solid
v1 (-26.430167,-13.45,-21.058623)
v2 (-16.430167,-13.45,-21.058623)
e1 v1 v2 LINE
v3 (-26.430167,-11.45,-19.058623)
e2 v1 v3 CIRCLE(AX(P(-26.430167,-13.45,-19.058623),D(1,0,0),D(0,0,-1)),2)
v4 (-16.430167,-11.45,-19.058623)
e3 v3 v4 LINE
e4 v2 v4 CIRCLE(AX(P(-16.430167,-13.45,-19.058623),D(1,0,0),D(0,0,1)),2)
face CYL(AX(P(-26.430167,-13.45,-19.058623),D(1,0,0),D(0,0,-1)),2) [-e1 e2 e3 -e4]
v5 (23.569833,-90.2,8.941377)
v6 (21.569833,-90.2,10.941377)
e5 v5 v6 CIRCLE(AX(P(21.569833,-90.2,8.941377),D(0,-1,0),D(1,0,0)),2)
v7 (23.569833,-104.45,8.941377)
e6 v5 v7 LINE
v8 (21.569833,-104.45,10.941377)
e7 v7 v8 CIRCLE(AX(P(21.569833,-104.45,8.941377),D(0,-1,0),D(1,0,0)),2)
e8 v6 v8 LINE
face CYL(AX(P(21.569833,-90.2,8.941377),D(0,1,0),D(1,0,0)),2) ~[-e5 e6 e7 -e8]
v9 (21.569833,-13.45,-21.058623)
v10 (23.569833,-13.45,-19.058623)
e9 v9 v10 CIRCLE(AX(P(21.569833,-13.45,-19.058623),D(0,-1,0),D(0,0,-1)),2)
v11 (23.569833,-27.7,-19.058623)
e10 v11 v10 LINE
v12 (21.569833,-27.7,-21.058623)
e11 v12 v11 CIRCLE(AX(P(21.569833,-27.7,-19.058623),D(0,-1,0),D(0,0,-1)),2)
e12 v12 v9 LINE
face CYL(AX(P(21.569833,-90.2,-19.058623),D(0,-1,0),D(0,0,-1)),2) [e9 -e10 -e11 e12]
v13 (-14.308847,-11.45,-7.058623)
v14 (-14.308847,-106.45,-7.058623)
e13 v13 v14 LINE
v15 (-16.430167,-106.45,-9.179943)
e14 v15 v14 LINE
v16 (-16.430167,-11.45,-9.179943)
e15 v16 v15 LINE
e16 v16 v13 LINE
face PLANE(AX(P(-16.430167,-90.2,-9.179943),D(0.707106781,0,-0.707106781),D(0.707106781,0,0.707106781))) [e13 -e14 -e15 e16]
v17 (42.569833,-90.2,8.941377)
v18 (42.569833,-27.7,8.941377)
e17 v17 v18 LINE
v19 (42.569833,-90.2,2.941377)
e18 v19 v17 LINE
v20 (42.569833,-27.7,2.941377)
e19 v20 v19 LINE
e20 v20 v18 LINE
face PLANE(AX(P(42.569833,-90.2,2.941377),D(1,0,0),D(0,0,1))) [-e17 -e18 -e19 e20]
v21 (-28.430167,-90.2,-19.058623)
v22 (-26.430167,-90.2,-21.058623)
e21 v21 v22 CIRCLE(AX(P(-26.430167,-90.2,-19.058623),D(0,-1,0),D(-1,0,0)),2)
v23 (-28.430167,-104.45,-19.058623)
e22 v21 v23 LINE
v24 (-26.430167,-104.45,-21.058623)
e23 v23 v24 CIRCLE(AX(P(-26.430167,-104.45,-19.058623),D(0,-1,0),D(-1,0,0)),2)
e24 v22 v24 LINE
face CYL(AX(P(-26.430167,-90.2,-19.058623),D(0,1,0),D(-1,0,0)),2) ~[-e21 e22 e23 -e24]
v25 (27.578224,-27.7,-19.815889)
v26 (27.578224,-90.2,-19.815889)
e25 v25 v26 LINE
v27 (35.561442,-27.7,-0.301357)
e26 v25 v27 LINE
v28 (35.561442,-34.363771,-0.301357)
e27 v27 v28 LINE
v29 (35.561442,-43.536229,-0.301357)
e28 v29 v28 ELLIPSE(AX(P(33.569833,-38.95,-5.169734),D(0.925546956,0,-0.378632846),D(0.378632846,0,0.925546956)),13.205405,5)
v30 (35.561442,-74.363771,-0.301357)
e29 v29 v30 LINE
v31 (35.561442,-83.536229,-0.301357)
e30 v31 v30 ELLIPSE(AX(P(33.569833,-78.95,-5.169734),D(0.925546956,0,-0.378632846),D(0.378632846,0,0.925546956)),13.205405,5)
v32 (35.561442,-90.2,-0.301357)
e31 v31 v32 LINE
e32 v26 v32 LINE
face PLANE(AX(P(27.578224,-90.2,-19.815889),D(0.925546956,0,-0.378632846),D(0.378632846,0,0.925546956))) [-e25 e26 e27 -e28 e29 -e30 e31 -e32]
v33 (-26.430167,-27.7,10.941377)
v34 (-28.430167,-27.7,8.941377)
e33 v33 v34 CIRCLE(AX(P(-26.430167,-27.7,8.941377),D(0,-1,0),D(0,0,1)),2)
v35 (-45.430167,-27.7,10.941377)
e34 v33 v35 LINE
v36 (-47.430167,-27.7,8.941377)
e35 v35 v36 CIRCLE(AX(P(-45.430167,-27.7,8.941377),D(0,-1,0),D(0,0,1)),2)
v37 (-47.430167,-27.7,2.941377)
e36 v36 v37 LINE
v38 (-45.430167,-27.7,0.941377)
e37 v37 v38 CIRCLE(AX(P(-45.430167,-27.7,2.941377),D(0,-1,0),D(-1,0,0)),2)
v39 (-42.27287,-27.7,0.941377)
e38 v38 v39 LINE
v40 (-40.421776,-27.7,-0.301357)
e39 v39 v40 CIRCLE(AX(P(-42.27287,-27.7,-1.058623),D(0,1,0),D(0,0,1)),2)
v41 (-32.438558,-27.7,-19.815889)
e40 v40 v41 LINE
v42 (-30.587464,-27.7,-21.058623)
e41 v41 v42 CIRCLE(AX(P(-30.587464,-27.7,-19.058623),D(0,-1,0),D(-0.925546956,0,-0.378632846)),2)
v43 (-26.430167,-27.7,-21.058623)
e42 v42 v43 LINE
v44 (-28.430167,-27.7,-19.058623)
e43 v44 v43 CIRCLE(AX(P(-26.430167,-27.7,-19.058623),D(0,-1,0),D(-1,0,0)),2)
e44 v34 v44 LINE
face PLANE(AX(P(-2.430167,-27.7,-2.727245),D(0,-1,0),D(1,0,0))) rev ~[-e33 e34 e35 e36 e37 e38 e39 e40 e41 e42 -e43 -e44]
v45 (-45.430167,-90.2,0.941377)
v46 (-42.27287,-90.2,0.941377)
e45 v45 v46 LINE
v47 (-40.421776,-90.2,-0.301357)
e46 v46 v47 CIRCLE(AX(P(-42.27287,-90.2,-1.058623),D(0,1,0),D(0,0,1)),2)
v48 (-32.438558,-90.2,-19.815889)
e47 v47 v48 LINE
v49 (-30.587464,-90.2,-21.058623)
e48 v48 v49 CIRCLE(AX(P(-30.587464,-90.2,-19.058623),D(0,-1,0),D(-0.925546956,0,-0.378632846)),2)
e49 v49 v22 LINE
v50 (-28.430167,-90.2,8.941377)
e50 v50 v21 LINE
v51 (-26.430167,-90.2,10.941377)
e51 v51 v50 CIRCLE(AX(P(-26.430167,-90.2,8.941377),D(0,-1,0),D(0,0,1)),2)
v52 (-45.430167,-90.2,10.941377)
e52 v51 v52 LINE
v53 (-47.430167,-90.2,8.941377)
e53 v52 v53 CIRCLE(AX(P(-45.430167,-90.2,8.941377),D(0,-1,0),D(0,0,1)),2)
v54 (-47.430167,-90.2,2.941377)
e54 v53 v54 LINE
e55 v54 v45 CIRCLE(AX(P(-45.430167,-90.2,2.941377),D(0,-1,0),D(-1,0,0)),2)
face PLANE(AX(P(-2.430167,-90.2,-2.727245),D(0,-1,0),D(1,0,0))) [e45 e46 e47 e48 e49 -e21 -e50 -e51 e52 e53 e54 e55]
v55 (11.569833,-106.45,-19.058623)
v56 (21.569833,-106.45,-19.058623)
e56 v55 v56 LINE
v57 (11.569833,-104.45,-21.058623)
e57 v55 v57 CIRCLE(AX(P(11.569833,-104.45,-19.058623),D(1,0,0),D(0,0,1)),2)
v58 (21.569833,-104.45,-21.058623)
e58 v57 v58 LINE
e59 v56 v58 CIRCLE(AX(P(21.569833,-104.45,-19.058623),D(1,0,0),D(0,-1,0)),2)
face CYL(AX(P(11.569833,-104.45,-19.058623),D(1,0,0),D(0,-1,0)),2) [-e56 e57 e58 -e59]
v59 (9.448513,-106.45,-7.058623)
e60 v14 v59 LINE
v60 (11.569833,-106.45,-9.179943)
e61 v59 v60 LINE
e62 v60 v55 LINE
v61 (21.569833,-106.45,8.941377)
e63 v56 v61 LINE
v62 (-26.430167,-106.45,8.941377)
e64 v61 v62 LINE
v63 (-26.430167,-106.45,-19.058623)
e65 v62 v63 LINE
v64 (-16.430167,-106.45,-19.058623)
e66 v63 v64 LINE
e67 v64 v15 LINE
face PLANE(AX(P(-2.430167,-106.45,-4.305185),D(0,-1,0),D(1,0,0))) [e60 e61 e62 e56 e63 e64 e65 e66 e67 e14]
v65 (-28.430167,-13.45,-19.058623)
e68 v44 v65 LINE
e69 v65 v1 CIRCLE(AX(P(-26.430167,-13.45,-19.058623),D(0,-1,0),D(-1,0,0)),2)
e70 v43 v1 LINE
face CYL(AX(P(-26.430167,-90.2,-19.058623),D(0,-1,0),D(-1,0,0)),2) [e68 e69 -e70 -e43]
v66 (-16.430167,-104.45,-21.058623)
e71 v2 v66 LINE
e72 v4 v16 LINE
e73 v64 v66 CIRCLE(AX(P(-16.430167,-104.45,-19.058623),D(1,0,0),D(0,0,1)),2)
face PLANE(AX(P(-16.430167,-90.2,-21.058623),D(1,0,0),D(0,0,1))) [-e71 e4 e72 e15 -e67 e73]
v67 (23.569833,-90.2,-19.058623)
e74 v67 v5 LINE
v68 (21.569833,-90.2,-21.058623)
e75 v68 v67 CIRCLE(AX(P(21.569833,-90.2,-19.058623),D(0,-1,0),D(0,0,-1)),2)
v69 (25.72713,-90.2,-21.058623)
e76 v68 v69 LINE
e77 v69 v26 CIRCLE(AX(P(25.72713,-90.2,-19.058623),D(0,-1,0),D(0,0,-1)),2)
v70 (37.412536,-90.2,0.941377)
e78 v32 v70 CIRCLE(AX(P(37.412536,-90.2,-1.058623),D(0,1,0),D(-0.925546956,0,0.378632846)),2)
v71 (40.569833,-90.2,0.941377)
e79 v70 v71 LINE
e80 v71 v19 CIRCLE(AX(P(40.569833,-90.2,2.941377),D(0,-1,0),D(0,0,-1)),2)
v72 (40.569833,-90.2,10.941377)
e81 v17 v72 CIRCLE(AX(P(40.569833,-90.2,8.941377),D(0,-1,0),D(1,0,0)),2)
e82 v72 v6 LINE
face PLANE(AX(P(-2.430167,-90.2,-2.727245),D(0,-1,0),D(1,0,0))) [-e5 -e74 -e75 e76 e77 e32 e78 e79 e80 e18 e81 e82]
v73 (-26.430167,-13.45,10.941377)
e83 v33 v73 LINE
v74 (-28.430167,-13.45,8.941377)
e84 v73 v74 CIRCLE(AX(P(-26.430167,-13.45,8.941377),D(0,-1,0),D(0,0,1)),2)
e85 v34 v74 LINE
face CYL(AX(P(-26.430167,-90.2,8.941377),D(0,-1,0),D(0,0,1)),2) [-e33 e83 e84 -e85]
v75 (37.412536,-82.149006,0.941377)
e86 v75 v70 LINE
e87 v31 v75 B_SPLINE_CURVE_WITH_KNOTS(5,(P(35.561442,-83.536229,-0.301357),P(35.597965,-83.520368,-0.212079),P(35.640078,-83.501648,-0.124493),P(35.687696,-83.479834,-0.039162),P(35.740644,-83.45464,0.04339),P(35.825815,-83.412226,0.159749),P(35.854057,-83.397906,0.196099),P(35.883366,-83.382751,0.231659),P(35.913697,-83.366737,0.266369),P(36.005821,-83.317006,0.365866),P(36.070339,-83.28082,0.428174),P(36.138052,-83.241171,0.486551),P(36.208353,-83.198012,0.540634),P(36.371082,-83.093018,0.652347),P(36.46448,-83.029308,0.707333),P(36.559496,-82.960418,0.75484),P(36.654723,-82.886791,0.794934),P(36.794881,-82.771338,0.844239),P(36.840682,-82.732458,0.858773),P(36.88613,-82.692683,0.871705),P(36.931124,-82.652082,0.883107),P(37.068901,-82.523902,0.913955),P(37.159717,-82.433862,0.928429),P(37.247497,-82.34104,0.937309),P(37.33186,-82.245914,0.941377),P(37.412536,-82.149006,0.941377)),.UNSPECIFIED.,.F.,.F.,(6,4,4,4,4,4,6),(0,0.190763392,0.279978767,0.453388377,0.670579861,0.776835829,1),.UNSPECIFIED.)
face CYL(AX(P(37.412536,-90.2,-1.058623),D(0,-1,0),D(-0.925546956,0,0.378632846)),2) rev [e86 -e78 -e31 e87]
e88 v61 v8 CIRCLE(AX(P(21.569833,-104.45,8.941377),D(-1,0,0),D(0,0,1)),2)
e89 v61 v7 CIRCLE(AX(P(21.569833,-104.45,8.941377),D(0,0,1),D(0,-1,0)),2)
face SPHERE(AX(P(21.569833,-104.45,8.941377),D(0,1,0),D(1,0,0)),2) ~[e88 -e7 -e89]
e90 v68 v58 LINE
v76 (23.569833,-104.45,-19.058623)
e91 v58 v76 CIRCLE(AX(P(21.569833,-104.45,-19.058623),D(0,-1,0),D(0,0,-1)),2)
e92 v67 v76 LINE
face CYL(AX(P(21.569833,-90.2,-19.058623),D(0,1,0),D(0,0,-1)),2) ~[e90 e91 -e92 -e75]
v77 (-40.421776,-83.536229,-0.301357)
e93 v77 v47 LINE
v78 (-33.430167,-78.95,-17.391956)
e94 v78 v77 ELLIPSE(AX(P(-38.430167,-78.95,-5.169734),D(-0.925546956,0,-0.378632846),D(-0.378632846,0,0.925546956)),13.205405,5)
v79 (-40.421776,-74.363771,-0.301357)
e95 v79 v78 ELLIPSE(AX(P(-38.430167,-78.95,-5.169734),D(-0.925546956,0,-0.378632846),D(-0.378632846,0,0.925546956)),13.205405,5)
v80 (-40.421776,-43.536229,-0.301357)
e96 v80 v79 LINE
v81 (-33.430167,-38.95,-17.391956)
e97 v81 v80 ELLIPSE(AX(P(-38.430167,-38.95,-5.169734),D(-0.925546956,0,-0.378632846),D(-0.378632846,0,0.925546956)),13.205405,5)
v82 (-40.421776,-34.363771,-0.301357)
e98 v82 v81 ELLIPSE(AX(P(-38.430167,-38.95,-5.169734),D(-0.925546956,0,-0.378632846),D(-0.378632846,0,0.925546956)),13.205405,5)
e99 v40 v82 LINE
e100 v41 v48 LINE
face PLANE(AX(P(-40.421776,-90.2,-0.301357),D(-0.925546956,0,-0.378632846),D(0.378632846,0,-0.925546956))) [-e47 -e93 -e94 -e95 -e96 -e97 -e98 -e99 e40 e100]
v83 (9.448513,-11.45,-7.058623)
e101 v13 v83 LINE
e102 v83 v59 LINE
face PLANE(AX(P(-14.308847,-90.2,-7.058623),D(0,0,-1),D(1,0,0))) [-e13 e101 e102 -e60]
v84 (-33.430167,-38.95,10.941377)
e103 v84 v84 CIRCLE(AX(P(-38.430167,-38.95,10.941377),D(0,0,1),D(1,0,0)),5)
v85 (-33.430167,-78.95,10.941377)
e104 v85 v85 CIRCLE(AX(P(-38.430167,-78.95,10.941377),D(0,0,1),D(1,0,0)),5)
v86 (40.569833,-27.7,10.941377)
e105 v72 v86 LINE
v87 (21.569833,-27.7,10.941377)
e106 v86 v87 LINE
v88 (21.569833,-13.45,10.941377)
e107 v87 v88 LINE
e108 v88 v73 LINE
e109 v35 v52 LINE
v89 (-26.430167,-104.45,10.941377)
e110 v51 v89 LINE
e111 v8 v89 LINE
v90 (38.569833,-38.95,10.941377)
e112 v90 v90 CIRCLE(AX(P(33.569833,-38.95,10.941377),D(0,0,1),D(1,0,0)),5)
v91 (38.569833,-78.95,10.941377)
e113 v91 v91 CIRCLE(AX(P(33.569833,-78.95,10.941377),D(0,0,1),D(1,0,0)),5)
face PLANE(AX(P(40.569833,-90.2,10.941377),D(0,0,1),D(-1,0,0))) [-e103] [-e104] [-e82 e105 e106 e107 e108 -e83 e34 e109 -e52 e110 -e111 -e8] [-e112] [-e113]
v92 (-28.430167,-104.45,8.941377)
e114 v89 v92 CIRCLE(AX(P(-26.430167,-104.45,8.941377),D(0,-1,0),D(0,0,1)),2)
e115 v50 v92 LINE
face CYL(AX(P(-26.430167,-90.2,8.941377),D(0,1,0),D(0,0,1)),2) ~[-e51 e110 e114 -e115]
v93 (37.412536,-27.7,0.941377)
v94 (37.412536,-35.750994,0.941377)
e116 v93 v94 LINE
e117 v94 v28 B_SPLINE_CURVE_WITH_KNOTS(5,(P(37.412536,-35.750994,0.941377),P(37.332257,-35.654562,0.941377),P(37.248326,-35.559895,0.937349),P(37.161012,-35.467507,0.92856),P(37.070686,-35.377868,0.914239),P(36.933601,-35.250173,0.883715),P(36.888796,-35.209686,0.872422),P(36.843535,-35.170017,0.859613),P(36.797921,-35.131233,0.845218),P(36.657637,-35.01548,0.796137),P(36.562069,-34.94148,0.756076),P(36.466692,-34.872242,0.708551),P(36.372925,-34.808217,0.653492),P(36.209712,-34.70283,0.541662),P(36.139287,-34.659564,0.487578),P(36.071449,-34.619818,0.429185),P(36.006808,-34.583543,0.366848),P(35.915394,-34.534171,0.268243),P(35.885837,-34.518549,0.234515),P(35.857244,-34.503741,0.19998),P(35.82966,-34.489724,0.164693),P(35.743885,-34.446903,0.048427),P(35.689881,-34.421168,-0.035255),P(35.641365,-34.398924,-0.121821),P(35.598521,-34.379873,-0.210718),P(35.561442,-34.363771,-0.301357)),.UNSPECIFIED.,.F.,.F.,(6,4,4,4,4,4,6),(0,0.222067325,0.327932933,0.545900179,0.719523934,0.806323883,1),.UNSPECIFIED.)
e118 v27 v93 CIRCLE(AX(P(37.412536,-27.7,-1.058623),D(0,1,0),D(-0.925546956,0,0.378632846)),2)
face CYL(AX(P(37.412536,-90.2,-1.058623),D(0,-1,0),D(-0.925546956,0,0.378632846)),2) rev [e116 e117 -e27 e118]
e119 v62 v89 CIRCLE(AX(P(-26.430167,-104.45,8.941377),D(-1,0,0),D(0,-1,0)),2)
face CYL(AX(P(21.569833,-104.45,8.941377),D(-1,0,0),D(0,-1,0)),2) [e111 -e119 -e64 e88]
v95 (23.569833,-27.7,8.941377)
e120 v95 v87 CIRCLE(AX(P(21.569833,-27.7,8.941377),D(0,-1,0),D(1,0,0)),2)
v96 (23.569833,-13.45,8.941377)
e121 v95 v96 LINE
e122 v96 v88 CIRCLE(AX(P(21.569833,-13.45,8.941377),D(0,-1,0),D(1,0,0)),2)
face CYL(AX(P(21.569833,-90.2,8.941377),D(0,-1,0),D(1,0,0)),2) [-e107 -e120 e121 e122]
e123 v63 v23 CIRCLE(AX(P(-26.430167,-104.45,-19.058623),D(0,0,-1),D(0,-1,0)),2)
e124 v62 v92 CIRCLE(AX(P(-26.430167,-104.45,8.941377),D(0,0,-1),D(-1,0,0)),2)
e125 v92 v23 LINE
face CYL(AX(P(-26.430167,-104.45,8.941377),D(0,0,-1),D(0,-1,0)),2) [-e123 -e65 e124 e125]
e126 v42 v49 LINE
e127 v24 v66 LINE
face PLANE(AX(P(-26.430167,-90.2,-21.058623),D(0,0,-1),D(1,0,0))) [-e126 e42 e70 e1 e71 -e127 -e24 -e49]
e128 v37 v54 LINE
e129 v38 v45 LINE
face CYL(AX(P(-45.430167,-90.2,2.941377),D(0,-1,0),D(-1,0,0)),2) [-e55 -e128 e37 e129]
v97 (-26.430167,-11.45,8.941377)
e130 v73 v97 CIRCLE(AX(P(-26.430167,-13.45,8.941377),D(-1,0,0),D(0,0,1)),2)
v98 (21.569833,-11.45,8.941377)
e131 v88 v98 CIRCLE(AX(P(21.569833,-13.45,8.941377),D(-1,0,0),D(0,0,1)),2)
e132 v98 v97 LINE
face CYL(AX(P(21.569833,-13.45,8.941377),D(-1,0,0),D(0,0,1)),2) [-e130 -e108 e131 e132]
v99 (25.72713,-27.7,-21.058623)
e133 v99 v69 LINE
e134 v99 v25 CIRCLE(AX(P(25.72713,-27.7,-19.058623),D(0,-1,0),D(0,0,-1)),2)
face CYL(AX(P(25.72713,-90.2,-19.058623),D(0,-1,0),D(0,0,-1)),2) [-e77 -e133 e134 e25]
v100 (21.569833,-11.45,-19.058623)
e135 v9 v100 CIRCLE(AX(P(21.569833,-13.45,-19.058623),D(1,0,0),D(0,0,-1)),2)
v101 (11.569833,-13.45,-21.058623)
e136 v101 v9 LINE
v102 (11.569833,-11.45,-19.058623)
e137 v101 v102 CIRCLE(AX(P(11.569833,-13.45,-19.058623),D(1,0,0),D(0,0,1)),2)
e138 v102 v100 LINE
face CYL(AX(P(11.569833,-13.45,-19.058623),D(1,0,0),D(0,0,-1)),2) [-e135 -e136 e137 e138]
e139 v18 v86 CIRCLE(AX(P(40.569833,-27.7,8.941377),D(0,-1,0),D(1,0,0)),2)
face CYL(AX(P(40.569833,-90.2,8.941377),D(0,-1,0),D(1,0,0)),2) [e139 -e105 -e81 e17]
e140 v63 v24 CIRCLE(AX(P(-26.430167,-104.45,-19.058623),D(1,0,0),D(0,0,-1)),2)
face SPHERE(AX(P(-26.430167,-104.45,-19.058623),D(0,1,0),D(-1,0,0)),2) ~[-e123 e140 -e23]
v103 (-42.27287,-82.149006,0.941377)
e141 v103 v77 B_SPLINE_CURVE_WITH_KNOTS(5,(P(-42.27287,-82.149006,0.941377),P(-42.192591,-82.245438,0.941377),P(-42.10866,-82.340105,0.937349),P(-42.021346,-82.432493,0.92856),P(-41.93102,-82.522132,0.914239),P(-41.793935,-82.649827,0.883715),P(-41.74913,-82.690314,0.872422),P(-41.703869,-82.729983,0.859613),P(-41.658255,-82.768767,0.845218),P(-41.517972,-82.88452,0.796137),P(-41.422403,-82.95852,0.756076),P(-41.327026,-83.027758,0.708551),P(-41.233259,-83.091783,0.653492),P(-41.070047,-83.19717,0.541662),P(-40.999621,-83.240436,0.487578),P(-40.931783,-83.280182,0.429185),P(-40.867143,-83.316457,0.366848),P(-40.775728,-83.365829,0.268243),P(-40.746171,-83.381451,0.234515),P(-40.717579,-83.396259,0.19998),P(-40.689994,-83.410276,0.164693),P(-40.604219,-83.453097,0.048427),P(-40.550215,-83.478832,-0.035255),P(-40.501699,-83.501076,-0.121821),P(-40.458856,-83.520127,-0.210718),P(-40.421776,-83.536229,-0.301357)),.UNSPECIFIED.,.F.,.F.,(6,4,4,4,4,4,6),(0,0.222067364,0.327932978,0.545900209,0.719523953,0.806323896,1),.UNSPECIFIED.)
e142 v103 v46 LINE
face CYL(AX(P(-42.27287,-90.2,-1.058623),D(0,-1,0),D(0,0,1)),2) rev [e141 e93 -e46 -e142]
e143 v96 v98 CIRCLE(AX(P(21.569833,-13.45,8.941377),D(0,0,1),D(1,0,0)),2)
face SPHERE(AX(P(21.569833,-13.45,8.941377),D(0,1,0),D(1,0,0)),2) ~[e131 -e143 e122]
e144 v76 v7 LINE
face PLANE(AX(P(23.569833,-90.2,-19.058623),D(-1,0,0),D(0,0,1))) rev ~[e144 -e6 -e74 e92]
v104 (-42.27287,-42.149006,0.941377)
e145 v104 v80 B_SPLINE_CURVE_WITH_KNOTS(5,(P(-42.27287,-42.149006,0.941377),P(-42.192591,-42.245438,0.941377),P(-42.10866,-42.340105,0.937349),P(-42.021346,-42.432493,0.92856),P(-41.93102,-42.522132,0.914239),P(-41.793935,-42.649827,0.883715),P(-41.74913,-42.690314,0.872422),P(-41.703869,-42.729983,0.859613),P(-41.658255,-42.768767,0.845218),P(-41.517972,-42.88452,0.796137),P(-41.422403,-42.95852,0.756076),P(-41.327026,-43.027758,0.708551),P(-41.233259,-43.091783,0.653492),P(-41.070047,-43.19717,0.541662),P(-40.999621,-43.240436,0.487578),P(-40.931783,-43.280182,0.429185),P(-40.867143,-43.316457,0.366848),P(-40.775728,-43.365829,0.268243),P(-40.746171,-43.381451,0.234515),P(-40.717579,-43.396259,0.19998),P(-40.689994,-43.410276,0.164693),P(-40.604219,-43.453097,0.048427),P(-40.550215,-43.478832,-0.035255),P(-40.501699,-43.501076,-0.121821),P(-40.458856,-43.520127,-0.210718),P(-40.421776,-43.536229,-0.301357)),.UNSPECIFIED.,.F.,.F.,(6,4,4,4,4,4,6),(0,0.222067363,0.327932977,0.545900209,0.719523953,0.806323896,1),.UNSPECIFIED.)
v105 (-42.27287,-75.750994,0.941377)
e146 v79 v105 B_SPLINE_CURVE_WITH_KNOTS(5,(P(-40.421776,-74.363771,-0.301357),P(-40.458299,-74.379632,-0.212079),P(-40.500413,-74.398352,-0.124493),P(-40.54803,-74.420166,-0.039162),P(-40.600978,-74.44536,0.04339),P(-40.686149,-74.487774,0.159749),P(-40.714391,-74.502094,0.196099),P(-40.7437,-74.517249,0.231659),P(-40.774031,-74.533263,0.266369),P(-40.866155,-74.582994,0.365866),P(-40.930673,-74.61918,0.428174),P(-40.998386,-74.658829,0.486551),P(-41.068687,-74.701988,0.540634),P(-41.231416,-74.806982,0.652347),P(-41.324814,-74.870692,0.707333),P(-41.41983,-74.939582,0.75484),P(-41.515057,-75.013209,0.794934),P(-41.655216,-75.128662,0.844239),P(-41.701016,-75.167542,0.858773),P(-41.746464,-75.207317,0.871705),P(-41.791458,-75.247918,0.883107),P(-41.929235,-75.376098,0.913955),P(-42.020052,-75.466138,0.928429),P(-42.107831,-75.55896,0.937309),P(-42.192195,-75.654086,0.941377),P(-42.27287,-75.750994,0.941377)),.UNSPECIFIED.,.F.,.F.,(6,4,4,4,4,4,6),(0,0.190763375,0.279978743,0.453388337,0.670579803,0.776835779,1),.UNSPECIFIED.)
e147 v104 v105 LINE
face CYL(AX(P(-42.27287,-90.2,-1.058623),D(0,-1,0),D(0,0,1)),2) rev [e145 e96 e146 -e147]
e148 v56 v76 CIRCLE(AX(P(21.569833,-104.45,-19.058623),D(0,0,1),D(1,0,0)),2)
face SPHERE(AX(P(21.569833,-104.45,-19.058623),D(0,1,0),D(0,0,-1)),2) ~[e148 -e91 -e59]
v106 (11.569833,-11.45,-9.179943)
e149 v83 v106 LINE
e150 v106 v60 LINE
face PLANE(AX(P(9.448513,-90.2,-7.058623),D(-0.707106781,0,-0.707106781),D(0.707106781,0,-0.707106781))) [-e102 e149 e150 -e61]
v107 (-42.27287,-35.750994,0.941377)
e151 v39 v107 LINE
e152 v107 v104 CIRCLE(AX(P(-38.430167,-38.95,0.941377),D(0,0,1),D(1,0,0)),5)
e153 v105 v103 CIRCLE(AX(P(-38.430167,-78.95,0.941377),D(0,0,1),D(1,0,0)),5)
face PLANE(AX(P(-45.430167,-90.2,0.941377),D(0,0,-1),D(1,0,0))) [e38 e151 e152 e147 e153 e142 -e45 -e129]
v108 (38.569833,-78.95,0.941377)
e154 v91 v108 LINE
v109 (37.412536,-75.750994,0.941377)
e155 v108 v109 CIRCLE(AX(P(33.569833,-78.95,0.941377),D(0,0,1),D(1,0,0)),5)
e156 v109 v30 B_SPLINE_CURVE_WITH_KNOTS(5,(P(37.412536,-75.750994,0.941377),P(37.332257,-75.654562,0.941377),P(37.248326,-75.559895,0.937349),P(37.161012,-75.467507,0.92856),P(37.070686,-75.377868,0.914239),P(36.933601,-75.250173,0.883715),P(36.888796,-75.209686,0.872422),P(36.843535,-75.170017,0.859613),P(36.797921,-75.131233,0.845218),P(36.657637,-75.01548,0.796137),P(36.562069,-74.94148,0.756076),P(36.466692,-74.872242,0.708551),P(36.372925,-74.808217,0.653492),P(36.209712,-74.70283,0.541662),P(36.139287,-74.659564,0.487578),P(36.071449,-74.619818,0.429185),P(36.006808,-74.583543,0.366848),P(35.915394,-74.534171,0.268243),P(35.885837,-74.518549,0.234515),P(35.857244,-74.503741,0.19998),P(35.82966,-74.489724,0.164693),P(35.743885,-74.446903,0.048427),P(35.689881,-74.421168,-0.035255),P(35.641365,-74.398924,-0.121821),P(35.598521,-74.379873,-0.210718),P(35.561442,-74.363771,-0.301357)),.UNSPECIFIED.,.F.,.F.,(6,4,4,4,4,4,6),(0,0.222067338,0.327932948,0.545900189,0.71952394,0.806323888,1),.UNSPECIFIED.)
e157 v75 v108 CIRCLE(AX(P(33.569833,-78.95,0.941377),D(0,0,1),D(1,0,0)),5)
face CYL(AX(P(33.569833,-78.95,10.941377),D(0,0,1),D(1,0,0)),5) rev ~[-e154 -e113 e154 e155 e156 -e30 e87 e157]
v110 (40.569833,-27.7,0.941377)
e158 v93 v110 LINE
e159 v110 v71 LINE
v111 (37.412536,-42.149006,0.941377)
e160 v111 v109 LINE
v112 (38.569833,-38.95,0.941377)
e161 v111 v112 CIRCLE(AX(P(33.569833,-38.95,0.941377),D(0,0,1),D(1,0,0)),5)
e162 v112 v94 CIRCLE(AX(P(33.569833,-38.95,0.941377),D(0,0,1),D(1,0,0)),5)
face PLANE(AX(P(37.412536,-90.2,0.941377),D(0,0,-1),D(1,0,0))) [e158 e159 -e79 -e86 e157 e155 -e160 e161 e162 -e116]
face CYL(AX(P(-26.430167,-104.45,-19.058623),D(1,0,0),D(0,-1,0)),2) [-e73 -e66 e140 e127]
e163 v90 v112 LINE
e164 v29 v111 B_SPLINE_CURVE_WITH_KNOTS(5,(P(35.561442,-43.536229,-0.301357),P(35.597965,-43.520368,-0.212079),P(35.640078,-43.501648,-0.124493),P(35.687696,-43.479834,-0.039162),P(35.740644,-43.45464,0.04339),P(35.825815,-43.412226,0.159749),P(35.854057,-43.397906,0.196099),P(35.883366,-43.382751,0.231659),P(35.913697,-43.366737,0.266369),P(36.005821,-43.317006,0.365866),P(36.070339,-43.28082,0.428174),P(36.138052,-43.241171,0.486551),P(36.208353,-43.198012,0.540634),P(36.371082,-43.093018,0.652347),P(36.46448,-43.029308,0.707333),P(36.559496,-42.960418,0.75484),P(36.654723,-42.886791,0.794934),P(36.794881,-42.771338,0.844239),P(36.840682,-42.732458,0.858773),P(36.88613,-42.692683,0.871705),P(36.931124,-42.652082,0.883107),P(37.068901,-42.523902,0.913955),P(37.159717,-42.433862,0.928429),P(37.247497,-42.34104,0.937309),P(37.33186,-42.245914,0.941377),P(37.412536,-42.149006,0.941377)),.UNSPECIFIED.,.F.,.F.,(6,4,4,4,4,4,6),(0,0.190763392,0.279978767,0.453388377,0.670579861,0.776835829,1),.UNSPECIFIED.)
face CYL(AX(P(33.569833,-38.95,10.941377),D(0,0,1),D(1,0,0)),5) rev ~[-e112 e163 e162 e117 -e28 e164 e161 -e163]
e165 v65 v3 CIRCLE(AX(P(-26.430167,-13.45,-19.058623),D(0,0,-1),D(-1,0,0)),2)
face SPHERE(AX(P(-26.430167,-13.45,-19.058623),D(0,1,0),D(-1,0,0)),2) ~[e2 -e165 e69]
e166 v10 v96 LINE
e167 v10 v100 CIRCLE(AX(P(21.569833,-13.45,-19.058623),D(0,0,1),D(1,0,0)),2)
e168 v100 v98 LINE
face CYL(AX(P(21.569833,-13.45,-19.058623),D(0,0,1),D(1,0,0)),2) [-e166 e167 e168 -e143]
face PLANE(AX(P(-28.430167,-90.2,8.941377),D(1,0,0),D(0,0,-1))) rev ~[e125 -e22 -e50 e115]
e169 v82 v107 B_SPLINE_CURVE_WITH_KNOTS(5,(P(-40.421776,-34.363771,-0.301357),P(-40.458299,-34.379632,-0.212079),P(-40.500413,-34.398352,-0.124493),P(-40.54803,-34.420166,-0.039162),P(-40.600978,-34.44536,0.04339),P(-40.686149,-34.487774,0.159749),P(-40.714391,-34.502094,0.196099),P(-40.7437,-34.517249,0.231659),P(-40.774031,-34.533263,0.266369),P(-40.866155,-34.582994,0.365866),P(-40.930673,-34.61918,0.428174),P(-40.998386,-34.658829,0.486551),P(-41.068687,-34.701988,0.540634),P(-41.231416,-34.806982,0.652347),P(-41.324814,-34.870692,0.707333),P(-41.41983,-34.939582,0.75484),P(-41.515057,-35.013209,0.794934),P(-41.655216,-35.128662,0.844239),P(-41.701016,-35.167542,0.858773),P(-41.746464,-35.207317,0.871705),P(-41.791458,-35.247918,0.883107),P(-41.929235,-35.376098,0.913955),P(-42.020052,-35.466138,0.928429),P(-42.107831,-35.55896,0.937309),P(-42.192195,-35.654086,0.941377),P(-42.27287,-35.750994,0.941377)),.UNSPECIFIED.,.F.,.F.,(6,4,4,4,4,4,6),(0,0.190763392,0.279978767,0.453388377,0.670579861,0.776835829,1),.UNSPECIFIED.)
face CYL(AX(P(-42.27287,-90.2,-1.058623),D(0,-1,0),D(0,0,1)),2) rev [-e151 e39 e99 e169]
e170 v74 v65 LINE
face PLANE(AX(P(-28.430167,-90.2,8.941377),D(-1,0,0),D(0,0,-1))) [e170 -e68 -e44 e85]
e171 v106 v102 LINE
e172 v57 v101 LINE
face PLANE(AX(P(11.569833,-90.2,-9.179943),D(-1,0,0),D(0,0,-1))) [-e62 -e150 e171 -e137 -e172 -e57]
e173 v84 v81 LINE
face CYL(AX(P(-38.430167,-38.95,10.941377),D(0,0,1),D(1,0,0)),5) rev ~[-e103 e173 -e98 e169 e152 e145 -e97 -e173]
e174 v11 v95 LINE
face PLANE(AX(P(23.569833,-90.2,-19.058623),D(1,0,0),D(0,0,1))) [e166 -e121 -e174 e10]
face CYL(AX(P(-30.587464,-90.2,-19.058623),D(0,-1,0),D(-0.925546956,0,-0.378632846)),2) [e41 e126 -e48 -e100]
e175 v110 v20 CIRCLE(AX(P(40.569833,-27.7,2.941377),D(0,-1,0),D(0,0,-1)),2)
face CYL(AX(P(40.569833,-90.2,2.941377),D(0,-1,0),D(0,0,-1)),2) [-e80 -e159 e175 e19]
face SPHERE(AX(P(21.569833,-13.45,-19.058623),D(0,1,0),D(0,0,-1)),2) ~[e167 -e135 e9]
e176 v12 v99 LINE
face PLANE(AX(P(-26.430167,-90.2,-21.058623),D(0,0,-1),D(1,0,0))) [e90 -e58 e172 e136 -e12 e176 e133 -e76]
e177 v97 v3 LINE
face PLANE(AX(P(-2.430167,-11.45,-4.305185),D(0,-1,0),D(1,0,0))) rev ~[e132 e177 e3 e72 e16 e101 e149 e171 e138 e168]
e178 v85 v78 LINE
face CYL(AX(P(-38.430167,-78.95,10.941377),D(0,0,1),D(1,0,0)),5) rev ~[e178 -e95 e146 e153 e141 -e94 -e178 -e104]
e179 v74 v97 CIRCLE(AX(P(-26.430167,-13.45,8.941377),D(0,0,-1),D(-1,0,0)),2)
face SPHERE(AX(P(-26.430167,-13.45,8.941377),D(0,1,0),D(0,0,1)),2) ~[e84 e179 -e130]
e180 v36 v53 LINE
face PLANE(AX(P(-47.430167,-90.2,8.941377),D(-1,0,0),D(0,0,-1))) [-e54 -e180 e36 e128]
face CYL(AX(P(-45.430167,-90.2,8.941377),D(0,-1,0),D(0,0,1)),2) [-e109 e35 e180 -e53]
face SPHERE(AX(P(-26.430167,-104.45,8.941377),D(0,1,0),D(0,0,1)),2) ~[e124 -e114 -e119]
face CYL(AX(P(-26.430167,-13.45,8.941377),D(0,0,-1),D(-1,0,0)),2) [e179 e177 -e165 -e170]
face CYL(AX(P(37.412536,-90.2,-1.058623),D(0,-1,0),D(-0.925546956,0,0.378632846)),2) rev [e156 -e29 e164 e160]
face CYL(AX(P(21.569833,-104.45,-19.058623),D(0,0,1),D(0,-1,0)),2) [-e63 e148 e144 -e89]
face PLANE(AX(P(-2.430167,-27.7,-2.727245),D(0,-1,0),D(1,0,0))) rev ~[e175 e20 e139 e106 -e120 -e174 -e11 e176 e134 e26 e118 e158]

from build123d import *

# Parameters (mm, degrees)
F0_W          = 90
F0_H          = 32
F1_DEPTH      = 65.2
F3_DEPTH      = 25
F4_W          = 90
F4_H          = 65.2
F5_DEPTH      = 32.001
F6_DEPTH      = 62.5
F8_DEPTH      = 16.25
F8_DEPTH_BACK = 78.75
F9_R          = 2
F11_DEPTH     = 78.751
F12_R         = 5
F13_DEPTH     = 32.001


with BuildPart() as f1:
    # F0 (on Front) → F1 (new body)
    with BuildSketch(Plane.XZ):
        with Locations((-2.4301670492, -5.0586230417)):
            Rectangle(F0_W, F0_H)
    extrude(amount=F1_DEPTH)

    # F2 (on face) → F3 (join)
    with BuildSketch(Plane.XZ.offset(65.2)):
        with BuildLine():
            Line((40.5698329508, 10.9413769583), (-45.4301670492, 10.9413769583))
            ThreePointArc((-45.4301670492, 10.9413769583), (-46.8443806115, 10.3555905207), (-47.4301670492, 8.9413769583))
            Line((-47.4301670492, 8.9413769583), (-47.4301670492, 2.9413769583))
            ThreePointArc((-47.4301670492, 2.9413769583), (-46.8443806115, 1.5271633959), (-45.4301670492, 0.9413769583))
            Line((-45.4301670492, 0.9413769583), (-42.2728696535, 0.9413769583))
            ThreePointArc((-42.2728696535, 0.9413769583), (-41.1580897163, 0.6018785968), (-40.4217757411, -0.3013573503))
            Line((-40.4217757411, -0.3013573503), (-32.4385583572, -19.8158887331))
            ThreePointArc((-32.4385583572, -19.8158887331), (-31.7022443821, -20.7191246802), (-30.5874644448, -21.0586230417))
            Line((-30.5874644448, -21.0586230417), (25.7271303465, -21.0586230417))
            ThreePointArc((25.7271303465, -21.0586230417), (26.8419102837, -20.7191246802), (27.5782242589, -19.8158887331))
            Line((27.5782242589, -19.8158887331), (35.5614416428, -0.3013573503))
            ThreePointArc((35.5614416428, -0.3013573503), (36.2977556179, 0.6018785968), (37.4125355552, 0.9413769583))
            Line((37.4125355552, 0.9413769583), (40.5698329508, 0.9413769583))
            ThreePointArc((40.5698329508, 0.9413769583), (41.9840465132, 1.5271633959), (42.5698329508, 2.9413769583))
            Line((42.5698329508, 2.9413769583), (42.5698329508, 8.9413769583))
            ThreePointArc((42.5698329508, 8.9413769583), (41.9840465132, 10.3555905207), (40.5698329508, 10.9413769583))
        make_face()
    extrude(amount=F3_DEPTH)

    # F4 (on face) → F5 (cut, through all)
    with BuildSketch(Plane.XY.offset(10.9413769583)):
        with Locations((-2.4301670492, -32.6)):
            Rectangle(F4_W, F4_H)
    extrude(amount=-F5_DEPTH, mode=Mode.SUBTRACT)

    # F6 (add): a face of the model
    f6_faces = [f1.faces().sort_by_distance(p)[0] for p in [
        (-2.4301670492, -90.2, -3.7537517767),
    ]]
    extrude(f6_faces, amount=-F6_DEPTH)

    # F7 (on face) → F8 (join, two sides)
    with BuildSketch(Plane.XZ.offset(90.2)) as f8_sk:
        with BuildLine():
            Line((21.5698329508, 10.9413769583), (-26.4301670492, 10.9413769583))
            ThreePointArc((-26.4301670492, 10.9413769583), (-27.8443806115, 10.3555905207), (-28.4301670492, 8.9413769583))
            Line((-28.4301670492, 8.9413769583), (-28.4301670492, -19.0586230417))
            ThreePointArc((-28.4301670492, -19.0586230417), (-27.8443806115, -20.4728366041), (-26.4301670492, -21.0586230417))
            Line((-26.4301670492, -21.0586230417), (-16.4301670492, -21.0586230417))
            Line((-16.4301670492, -21.0586230417), (-16.4301670492, -9.1799433853))
            Line((-16.4301670492, -9.1799433853), (-14.3088467056, -7.0586230417))
            Line((-14.3088467056, -7.0586230417), (9.4485126073, -7.0586230417))
            Line((9.4485126073, -7.0586230417), (11.5698329508, -9.1799433853))
            Line((11.5698329508, -9.1799433853), (11.5698329508, -21.0586230417))
            Line((11.5698329508, -21.0586230417), (21.5698329508, -21.0586230417))
            ThreePointArc((21.5698329508, -21.0586230417), (22.9840465132, -20.4728366041), (23.5698329508, -19.0586230417))
            Line((23.5698329508, -19.0586230417), (23.5698329508, 8.9413769583))
            ThreePointArc((23.5698329508, 8.9413769583), (22.9840465132, 10.3555905207), (21.5698329508, 10.9413769583))
        make_face()
    extrude(amount=F8_DEPTH)
    extrude(f8_sk.sketch, amount=-F8_DEPTH_BACK)

    # F9
    f9_edges = [f1.edges().sort_by_distance(p)[0] for p in [
        (-28.430167, -106.45, -5.058623),
        (-2.430167, -11.45, 10.941377),
    ]]
    fillet(f9_edges, radius=F9_R)

    # F10 (on face) → F11 (cut, through all)
    with BuildSketch(Plane.XZ.offset(90.2)):
        Polygon((-16.4301670492, -9.1799433853), (-16.4301670492, -21.0586230417), (11.5698329508, -21.0586230417), (11.5698329508, -9.1799433853), (9.4485126073, -7.0586230417), (-14.3088467056, -7.0586230417), align=None)
    extrude(amount=-F11_DEPTH, mode=Mode.SUBTRACT)

    # F12 (on face) → F13 (cut, through all)
    with BuildSketch(Plane.XY.offset(10.9413769583)):
        with Locations((-38.4301670492, -38.95)):
            Circle(F12_R)
        with Locations((-38.4301670492, -78.95)):
            Circle(F12_R)
        with Locations((33.5698329508, -78.95)):
            Circle(F12_R)
        with Locations((33.5698329508, -38.95)):
            Circle(F12_R)
    extrude(amount=-F13_DEPTH, mode=Mode.SUBTRACT)


solid = f1.part
